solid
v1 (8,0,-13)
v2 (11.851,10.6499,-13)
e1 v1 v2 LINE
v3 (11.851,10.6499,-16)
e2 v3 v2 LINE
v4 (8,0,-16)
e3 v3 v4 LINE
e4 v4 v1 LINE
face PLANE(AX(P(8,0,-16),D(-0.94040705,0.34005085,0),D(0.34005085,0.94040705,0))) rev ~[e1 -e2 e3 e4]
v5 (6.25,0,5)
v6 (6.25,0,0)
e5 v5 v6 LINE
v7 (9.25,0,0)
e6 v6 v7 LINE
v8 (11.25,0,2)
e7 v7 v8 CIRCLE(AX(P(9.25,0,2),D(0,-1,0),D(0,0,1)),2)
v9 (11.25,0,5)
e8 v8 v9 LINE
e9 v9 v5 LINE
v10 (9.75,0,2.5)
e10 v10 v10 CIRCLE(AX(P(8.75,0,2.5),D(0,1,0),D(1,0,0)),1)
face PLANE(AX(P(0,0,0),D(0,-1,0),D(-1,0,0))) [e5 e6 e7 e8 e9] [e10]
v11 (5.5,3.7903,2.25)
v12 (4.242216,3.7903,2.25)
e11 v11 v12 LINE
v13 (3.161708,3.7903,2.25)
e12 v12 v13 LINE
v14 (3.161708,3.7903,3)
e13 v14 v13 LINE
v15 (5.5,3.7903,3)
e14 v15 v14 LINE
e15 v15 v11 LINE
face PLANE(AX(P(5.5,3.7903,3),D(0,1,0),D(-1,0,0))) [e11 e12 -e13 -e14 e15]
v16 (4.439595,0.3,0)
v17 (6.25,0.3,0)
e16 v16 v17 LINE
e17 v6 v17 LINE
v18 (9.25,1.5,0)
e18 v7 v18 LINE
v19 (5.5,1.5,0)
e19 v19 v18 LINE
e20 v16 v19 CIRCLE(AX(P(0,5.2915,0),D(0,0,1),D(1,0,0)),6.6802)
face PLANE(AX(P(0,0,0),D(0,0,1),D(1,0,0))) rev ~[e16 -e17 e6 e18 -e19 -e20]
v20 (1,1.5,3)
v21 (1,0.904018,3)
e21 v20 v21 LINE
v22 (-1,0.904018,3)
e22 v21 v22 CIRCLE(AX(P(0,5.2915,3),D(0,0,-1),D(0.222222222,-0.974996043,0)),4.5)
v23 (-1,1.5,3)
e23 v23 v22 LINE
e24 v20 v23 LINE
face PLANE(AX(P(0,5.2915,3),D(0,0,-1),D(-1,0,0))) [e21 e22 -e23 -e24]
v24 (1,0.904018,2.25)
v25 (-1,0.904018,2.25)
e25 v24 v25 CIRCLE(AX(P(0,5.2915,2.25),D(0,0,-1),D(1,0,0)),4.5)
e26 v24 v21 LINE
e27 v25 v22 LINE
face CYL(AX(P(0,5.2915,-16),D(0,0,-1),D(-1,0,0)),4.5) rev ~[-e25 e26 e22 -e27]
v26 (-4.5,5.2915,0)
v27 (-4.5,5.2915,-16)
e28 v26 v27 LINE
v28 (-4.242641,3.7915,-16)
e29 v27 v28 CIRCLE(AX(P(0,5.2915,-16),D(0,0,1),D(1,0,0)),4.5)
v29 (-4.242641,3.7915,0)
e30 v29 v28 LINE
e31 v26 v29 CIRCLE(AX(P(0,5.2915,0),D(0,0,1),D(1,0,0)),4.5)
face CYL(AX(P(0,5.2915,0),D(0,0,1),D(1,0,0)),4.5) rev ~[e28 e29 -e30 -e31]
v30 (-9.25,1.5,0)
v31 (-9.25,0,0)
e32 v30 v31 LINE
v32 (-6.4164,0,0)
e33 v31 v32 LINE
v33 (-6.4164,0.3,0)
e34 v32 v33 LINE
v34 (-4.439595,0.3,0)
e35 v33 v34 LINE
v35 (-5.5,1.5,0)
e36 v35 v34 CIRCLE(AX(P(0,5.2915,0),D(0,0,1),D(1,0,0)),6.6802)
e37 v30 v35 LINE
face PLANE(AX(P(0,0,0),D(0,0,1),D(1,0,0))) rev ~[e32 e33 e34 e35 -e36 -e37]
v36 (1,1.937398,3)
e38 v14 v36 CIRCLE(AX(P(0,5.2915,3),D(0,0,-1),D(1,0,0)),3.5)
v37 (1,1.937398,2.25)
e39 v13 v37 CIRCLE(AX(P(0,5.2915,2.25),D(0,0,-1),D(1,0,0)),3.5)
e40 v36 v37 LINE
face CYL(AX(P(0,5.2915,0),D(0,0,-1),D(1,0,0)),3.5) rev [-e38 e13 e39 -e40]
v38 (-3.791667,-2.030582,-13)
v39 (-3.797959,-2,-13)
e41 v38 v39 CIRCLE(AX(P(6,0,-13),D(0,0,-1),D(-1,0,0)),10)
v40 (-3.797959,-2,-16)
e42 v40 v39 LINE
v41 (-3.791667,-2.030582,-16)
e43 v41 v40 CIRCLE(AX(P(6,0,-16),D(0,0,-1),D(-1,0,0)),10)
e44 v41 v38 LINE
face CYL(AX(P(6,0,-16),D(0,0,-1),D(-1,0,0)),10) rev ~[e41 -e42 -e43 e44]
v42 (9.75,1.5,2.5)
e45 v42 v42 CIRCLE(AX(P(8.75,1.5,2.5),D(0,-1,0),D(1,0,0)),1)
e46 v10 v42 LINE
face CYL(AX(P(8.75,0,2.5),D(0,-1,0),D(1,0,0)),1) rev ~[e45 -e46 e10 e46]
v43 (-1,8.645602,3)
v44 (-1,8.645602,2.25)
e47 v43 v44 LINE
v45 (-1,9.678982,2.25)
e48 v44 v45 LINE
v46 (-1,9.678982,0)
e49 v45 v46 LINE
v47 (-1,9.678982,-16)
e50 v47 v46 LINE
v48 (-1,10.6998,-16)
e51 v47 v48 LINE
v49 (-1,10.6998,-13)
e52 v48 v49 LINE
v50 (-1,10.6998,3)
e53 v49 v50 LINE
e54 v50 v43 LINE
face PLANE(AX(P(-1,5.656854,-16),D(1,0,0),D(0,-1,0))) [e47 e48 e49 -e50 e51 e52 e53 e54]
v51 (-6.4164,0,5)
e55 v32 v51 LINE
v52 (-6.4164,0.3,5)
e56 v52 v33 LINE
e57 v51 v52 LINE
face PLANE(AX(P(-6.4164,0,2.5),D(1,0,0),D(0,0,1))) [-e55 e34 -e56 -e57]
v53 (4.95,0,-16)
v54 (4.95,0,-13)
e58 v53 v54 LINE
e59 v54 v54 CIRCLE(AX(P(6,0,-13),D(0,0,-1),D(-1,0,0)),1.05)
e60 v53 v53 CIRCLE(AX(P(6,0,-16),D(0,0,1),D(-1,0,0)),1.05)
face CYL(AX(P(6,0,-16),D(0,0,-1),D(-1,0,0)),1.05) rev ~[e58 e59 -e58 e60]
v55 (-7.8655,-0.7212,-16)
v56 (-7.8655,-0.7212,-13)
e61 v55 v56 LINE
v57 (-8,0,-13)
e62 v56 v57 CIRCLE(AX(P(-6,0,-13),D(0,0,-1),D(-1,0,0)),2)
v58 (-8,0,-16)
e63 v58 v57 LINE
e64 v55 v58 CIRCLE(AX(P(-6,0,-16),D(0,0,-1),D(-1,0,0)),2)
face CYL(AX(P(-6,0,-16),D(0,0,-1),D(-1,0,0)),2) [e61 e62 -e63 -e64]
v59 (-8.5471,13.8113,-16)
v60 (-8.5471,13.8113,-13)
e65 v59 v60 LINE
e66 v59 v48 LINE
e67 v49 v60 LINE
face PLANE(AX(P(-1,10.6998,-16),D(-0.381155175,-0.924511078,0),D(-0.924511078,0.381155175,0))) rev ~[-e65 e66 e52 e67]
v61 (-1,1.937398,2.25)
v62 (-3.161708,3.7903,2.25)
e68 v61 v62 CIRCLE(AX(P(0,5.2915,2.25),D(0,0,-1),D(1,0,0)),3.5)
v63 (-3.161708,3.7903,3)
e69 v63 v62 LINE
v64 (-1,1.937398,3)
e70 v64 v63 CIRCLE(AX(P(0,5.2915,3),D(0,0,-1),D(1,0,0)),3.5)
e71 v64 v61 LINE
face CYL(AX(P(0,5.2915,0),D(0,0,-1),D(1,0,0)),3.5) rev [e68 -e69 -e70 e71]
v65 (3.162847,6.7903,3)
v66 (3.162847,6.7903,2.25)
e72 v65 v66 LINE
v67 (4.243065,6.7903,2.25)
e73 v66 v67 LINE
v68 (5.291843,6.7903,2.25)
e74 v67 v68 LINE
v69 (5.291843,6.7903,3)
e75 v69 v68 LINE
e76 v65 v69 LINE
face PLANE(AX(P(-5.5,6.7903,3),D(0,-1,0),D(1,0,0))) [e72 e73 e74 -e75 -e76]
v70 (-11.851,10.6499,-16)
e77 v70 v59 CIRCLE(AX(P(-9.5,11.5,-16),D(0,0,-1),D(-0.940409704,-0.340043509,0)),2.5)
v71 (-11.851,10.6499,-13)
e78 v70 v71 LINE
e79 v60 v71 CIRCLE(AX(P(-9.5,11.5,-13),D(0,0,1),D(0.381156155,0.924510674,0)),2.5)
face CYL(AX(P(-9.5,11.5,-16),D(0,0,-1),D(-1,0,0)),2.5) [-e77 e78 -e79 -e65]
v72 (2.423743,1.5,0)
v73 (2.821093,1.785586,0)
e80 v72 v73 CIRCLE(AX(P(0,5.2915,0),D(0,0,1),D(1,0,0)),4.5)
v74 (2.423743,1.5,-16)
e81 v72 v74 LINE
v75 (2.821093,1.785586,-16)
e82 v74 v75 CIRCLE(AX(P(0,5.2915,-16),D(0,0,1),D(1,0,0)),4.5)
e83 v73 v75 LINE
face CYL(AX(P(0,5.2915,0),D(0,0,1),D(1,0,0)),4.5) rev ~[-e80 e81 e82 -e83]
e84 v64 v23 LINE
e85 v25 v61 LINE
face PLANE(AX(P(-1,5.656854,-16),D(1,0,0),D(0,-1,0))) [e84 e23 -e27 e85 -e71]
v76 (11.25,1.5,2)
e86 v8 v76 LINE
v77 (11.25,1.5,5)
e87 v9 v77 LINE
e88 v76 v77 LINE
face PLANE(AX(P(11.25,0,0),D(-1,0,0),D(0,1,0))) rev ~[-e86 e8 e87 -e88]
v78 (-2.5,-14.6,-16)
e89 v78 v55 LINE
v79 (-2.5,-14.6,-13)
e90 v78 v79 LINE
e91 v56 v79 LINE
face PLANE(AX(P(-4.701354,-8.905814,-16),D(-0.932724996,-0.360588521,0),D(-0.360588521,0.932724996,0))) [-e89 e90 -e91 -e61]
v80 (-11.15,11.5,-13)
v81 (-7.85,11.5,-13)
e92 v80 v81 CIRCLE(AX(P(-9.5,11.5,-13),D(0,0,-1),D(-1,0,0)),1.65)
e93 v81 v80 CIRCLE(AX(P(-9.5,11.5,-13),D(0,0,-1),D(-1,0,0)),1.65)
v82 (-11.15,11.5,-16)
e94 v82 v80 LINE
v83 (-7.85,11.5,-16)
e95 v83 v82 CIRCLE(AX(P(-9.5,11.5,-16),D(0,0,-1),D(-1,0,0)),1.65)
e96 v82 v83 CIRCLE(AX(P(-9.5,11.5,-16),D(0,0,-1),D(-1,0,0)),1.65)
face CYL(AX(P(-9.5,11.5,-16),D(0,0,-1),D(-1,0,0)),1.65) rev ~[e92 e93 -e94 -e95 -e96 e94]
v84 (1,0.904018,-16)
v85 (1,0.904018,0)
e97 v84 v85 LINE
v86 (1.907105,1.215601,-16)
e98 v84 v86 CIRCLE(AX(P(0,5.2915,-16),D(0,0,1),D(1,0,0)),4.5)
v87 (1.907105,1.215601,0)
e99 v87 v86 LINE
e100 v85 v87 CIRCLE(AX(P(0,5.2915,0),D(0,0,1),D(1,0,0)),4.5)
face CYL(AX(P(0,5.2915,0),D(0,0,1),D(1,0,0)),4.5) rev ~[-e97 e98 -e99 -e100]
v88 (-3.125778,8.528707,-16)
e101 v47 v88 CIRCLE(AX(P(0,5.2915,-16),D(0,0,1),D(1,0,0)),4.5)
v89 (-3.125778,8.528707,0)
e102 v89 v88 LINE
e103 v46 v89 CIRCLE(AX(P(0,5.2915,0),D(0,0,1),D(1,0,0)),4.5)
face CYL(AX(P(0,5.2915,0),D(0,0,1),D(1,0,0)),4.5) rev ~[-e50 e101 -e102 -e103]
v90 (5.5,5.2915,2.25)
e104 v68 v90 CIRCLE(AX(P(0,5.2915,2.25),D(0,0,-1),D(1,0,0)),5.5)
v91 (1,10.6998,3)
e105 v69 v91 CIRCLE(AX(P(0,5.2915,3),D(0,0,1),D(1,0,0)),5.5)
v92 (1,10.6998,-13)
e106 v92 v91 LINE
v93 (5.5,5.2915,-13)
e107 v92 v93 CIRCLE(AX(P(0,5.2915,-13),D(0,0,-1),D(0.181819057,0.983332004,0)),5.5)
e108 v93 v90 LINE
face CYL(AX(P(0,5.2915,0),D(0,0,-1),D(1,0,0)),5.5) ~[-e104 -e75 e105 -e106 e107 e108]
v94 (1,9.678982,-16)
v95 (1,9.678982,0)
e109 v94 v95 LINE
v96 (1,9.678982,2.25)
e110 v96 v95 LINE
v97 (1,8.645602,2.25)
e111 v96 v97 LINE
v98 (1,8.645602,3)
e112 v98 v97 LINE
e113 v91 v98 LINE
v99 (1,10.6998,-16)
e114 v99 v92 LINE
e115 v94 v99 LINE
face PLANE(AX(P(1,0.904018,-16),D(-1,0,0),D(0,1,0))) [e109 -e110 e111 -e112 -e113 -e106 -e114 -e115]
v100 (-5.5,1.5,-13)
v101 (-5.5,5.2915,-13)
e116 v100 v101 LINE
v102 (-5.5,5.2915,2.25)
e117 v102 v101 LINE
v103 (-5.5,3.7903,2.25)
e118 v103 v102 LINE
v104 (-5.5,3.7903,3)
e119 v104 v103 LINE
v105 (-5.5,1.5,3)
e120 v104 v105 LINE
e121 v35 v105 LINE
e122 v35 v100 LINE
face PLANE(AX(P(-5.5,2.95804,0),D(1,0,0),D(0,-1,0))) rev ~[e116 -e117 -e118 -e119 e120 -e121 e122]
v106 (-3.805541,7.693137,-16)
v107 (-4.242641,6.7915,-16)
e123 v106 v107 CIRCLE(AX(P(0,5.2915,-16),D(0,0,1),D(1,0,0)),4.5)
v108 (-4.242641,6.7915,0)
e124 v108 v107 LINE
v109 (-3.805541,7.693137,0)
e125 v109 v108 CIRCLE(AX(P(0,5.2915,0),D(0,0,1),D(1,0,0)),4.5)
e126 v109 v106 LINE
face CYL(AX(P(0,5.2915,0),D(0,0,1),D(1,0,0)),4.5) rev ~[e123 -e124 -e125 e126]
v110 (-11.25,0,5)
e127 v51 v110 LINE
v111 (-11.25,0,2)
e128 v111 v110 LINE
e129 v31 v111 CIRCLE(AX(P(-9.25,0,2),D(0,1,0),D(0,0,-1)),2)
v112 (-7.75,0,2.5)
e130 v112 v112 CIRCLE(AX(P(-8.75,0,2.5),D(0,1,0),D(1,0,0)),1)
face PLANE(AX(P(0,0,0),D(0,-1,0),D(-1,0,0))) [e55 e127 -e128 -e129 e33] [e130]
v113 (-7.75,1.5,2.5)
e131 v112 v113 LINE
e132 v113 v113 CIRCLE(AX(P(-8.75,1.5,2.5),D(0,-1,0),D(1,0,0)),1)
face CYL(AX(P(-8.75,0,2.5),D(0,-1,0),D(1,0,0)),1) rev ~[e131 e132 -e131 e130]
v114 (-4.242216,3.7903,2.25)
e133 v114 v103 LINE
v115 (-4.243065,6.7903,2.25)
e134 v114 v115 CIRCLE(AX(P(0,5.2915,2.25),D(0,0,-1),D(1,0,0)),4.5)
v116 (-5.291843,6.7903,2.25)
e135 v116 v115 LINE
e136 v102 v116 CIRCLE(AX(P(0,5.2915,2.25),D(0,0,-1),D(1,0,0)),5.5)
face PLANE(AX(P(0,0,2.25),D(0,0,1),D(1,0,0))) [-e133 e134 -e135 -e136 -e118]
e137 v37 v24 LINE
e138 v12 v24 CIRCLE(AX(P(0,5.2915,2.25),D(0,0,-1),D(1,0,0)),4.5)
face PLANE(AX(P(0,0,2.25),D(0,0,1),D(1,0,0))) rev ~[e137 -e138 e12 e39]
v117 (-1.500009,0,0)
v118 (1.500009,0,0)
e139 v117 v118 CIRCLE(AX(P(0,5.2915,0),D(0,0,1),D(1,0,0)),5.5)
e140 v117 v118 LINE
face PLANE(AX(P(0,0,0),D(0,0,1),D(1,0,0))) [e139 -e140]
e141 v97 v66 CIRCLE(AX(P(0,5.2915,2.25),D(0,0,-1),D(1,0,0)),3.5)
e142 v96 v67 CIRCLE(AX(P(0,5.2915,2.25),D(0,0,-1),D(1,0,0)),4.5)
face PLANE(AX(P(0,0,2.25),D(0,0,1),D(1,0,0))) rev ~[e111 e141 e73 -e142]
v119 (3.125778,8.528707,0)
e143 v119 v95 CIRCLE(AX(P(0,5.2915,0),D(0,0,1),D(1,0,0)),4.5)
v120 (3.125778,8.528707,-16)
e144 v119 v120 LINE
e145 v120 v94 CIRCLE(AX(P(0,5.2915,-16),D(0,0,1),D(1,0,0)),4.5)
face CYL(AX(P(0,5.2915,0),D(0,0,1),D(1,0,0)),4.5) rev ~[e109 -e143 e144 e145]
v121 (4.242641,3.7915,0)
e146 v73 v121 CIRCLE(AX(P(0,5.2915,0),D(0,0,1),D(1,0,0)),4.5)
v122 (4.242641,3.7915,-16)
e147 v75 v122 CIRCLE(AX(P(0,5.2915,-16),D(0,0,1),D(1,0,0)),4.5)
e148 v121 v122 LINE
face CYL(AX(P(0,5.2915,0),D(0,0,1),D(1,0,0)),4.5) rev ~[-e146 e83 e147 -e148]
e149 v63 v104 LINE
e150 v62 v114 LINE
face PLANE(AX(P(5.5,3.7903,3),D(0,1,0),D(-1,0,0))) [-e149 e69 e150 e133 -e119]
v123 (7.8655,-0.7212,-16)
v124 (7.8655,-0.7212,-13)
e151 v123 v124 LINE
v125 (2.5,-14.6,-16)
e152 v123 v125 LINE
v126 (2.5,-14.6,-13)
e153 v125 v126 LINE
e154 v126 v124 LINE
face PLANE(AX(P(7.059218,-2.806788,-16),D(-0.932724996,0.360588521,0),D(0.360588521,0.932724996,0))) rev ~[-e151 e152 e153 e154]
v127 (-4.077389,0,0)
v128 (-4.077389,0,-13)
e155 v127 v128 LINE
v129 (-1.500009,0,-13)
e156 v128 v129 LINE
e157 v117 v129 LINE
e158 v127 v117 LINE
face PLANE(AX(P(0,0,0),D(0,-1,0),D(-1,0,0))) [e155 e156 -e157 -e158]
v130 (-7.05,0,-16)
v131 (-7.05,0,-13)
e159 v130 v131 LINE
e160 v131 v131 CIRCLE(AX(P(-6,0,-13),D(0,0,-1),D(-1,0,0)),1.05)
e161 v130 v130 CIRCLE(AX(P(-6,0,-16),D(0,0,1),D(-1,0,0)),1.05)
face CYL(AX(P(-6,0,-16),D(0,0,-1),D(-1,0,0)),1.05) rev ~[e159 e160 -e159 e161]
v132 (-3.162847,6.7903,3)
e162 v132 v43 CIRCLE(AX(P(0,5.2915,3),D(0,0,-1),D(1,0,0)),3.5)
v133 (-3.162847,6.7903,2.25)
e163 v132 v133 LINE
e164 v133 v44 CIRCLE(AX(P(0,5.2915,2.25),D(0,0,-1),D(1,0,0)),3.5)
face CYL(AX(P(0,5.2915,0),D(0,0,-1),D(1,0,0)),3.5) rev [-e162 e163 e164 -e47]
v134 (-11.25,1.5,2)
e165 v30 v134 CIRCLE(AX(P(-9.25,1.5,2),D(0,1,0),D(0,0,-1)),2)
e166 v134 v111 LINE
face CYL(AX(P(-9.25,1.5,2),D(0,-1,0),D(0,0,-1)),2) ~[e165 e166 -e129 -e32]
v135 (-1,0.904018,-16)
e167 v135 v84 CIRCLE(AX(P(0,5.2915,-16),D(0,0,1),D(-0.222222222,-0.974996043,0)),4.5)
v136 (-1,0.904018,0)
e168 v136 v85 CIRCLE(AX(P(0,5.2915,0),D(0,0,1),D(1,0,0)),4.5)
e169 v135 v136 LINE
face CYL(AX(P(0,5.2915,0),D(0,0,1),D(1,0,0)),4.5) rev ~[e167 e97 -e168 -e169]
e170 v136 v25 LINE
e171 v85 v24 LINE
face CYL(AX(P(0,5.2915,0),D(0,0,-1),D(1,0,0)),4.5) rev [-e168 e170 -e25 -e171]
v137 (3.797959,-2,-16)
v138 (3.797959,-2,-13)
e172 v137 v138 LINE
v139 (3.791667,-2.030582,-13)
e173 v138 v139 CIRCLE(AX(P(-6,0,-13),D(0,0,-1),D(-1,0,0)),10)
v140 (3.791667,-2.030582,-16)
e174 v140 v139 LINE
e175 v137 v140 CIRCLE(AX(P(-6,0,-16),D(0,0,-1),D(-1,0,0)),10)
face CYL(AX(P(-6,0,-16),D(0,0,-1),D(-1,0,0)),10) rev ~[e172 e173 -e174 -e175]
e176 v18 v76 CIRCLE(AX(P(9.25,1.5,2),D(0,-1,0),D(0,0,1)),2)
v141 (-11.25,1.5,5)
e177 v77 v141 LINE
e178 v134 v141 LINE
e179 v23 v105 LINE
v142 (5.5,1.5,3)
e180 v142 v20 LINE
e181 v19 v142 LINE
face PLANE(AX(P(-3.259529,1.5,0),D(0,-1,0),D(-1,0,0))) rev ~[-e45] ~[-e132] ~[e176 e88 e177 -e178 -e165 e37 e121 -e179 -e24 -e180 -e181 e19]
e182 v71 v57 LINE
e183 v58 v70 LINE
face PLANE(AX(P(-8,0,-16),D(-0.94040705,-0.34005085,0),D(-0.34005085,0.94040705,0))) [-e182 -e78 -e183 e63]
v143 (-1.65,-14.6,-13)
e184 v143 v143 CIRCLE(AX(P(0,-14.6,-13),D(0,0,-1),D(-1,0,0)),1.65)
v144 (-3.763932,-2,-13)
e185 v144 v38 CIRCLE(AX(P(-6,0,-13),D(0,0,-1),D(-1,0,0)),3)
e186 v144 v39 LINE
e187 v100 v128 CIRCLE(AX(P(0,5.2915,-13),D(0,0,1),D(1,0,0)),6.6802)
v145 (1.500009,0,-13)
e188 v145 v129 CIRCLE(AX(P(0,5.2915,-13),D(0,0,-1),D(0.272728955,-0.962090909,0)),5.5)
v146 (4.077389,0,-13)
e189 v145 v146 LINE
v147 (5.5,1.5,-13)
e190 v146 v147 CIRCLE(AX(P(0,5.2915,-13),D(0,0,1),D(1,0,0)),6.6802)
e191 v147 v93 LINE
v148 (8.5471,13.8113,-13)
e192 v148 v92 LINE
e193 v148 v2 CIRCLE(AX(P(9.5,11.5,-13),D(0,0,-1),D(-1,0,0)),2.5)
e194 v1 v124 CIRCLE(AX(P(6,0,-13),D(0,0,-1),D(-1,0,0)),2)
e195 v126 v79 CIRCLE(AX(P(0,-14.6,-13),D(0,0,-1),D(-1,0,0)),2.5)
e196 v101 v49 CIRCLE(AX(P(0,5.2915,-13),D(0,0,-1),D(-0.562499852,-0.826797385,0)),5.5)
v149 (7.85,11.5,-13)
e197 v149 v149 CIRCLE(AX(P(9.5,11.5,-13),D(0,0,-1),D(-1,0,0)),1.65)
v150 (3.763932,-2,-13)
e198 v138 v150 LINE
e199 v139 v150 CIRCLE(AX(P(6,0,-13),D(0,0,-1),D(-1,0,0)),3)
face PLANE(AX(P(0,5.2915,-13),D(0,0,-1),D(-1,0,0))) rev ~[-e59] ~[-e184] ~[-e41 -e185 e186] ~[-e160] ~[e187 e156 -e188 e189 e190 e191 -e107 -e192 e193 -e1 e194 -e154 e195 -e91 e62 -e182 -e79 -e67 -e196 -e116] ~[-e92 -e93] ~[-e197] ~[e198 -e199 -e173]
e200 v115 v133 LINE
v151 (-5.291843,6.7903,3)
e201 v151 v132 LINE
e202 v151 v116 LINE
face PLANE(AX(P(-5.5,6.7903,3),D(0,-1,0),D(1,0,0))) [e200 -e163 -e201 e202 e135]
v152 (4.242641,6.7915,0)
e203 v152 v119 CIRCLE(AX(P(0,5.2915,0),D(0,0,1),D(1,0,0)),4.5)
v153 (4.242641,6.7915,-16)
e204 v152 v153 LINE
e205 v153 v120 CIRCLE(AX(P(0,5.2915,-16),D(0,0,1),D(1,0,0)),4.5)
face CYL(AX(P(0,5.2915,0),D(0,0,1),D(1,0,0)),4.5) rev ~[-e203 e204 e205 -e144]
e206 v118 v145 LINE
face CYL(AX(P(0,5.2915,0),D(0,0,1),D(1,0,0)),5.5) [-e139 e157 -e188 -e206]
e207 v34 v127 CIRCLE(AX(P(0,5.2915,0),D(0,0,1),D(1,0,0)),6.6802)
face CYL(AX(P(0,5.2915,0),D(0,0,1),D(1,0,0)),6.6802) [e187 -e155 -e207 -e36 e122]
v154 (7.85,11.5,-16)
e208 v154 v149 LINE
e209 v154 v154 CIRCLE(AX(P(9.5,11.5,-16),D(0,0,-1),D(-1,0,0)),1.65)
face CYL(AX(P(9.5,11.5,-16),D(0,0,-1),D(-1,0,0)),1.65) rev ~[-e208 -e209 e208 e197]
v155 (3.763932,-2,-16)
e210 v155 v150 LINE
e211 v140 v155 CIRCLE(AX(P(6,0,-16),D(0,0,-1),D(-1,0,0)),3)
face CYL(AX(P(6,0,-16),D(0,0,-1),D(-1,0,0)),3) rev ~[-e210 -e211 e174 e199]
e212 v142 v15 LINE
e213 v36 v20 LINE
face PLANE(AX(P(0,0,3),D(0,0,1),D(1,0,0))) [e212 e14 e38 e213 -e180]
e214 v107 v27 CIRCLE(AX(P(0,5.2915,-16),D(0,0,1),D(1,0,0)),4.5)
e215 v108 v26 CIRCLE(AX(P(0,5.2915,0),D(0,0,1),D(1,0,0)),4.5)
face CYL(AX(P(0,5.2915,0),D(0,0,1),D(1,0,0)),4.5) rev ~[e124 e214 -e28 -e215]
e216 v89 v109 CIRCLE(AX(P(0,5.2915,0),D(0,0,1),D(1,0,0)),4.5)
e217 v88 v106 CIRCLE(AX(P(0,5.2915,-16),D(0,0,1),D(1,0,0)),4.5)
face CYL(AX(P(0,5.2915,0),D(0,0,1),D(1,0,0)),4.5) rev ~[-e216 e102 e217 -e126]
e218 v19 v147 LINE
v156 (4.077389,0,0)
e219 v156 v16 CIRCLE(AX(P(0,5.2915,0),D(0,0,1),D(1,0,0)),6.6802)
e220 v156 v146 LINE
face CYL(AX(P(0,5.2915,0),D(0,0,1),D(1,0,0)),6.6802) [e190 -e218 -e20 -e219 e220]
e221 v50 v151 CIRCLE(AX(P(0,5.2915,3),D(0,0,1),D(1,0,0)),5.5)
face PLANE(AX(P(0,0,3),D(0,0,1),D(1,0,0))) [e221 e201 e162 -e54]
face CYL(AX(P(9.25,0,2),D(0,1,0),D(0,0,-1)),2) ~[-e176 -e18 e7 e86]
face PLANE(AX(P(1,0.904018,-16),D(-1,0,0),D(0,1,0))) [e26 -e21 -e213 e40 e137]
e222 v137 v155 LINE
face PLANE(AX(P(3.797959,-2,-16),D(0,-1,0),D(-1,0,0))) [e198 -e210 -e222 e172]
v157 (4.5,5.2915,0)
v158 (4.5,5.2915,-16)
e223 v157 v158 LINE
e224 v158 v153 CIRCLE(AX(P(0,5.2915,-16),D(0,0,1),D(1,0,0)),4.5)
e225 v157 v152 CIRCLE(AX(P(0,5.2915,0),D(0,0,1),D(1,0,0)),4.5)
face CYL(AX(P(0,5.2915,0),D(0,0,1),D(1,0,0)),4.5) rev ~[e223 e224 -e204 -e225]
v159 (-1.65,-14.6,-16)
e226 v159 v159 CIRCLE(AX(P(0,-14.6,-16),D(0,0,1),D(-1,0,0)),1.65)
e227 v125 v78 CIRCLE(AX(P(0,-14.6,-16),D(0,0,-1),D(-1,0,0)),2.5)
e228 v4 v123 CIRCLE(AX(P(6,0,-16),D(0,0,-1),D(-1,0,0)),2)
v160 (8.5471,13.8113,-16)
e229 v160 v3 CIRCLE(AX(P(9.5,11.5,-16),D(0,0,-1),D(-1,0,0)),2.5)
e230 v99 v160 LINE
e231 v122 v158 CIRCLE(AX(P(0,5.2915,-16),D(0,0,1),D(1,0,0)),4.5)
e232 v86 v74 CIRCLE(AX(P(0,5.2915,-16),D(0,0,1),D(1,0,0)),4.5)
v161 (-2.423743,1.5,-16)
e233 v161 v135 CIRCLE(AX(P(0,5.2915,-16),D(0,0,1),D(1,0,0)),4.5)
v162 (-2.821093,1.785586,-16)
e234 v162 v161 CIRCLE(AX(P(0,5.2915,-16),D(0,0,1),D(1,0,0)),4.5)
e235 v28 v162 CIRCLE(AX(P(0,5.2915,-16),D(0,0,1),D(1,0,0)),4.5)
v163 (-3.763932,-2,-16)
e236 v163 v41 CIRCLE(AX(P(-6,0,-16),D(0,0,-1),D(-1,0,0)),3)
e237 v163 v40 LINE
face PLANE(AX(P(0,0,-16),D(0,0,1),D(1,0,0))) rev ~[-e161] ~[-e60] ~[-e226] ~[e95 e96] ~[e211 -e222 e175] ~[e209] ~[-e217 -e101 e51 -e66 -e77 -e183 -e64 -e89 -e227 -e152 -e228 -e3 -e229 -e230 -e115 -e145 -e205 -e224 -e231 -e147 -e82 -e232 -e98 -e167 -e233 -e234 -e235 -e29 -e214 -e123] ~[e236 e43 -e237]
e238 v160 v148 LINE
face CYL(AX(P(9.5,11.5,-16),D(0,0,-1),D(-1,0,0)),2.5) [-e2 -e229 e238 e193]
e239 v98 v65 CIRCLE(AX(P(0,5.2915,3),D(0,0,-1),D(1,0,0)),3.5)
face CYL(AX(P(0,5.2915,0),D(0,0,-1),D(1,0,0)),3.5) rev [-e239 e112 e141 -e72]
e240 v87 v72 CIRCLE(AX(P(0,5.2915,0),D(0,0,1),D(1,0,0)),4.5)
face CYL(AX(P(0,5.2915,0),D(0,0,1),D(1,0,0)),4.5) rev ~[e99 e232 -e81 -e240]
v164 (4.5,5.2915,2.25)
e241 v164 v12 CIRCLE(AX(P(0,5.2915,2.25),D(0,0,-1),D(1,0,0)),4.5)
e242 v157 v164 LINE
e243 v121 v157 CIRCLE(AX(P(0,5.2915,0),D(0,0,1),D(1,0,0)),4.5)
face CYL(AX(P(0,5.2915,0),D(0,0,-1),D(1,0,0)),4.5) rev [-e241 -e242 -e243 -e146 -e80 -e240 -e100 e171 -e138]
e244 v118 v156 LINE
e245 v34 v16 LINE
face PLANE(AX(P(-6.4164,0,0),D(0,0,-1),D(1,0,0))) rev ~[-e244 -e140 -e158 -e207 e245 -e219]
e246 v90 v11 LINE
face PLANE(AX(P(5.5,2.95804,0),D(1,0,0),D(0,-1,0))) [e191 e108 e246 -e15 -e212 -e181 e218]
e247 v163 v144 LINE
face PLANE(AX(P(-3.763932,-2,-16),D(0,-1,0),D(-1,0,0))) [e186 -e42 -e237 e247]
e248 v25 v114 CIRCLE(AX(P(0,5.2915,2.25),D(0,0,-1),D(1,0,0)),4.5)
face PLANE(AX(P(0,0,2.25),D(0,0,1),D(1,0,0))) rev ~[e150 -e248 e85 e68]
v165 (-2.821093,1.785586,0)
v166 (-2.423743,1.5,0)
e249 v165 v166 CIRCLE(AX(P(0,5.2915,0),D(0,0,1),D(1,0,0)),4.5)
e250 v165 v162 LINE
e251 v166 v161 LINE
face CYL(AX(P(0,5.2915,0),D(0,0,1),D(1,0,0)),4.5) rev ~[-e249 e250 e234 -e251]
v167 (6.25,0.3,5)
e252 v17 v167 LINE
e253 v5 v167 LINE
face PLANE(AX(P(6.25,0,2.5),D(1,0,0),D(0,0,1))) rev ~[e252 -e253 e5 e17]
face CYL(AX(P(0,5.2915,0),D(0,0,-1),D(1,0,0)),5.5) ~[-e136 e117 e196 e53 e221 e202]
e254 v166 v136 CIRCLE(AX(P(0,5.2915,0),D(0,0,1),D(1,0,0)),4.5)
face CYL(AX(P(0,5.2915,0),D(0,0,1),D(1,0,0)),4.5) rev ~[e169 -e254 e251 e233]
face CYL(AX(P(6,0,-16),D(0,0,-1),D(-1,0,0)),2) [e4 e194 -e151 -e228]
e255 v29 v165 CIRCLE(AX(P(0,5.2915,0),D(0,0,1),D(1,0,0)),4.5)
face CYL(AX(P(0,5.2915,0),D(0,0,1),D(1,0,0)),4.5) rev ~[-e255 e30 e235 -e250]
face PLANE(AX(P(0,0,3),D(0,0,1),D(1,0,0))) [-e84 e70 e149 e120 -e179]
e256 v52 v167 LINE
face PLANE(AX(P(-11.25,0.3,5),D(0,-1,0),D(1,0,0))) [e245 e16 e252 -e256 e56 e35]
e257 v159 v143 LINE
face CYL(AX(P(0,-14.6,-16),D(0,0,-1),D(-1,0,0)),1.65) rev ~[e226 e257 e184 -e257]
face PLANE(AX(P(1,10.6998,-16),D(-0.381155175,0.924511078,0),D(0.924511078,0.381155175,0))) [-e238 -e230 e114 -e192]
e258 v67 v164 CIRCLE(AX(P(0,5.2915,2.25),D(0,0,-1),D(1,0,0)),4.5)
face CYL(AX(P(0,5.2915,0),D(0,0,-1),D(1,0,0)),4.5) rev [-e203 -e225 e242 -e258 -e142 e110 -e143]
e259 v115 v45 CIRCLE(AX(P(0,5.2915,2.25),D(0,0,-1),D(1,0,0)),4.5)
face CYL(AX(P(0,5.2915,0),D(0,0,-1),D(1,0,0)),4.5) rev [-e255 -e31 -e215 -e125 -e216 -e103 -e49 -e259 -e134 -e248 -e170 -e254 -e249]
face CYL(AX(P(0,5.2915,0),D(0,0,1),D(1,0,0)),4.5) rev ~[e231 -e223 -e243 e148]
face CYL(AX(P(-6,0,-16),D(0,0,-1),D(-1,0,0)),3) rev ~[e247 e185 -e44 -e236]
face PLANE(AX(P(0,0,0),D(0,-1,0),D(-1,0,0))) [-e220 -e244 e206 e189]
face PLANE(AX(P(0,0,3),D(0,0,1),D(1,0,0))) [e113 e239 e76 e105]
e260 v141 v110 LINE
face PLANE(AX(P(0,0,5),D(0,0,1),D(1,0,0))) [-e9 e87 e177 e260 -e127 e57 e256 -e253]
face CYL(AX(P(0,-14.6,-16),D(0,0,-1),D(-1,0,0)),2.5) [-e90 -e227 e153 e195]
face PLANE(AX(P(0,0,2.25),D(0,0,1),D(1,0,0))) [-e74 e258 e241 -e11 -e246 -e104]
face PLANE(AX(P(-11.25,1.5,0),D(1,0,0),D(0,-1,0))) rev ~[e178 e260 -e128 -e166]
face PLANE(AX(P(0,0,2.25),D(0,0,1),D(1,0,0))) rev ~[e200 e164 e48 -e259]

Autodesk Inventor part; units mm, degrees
ref_plane "YZ Plane" through (0, 0, 0) normal (1, 0, 0) x (0, 1, 0)
ref_plane "XZ Plane" through (0, 0, 0) normal (0, 1, 0) x (-1, 0, 0)
ref_plane "XY Plane" through (0, 0, 0) normal (0, 0, 1) x (1, 0, 0)
sketch "スケッチ1" plane through (0, 0, 0) normal (0, 0, 1) x (1, 0, 0)
  circle A0 centre (0, 0) radius 16
  line L0 (0, 0) -> (-6, 0)
  line L1 (-6, 0) -> (6, 0)
  circle A1 centre (-6, 0) radius 9
  circle A2 centre (-6, 0) radius 3
  circle A3 centre (6, 0) radius 9
  circle A4 centre (6, 0) radius 3
  circle A5 centre (-6, 0) radius 8
  circle A6 centre (0, 5.2915) radius 5
  circle A7 centre (0, 5.2915) radius 4.5
  circle A8 centre (0, 5.2915) radius 5.5
  circle A9 centre (0, 5.2915) radius 3.5
  line L2 (0, 0) -> (-11.25, 0)
  line L3 (-11.25, 0) -> (11.25, 0)
  line L4 (-11.25, 0) -> (11.25, 0)
  line L5 (11.25, 0) -> (11.25, 1.5)
  line L6 (11.25, 1.5) -> (-11.25, 1.5)
  line L7 (-11.25, 1.5) -> (-11.25, 0)
  line L8 (0, 5.2915) -> (-5.5, 5.2915)
  line L9 (0, 5.2915) -> (5.5, 5.2915)
  line L10 (5.5, 3.7915) -> (-5.5, 3.7915)
  line L11 (-5.5, 3.7915) -> (-5.5, 6.7915)
  line L12 (-5.5, 6.7915) -> (5.5, 6.7915)
  line L13 (5.5, 6.7915) -> (5.5, 3.7915)
  line L14 (5.5, 3.7915) -> (-5.5, 6.7915) construction
  line L15 (-5.5, 3.7915) -> (5.5, 6.7915) construction
  line L16 (-5.5, 5.2915) -> (-5.5, 1.5)
  line L17 (5.5, 5.2915) -> (5.5, 1.5)
  line L18 (5.2915, 3.7915) -> (5.2915, 1.5)
  line L19 (-5.2915, 3.7915) -> (-5.2915, 1.5)
  circle A10 centre (0, 5.2915) radius 6.6802
  point P0 (-3.9843, 1.5)
  point P1 (3.9843, 1.5)
  point P2 (4.0774, 0)
  point P3 (1.5, 0)
  point P4 (-4.0774, 0)
  point P5 (-1.5, 0)
  dimension "d0" = 32
  dimension "d1" = 6
  dimension "d2" = 12
  dimension "d3" = 18
  dimension "d4" = 6
  dimension "d5" = 16
  dimension "d6" = 9
  dimension "d7" = 11
  dimension "d8" = 7
  dimension "d9" = 11.25
  dimension "d10" = 22.5
  dimension "d11" = 1.5
  dimension "d12" = 3
extrude "押し出し1" add sketch "スケッチ1" along normal blind 5 contours L0 A8 A3 A6 A5 L1 | L0 A3 A8 | A8 A5 L1 | L0 A10 L6 A8 A2 | A2 A8 A3 | A8 A2 L6 A6 A3 | A5 A8 A1 L1 | A5 A6 A1 A8 | L0 L2 A2 L6 A10 | A8 L6 A2 | A6 L6 A3 | A3 L6 A7 A5 A6 | A4 A8 L6 A10 L1 | A1 A8 A4 | A5 A7 L6 A1 A6 | A1 A6 L6 A4 A8 | L2 L7 L6 A2 | A10 L6 A4 L3 L1 | A4 L6 A8 | A7 L6 A5 | A5 L6 A7 | A1 L6 A6 | A4 L6 L5 L3 picked at (2.524, 0.7859) picked at (-3.6973, 1.4091) picked at (3.6973, 1.4091)
extrude "押し出し2" add sketch "スケッチ1" along normal blind 3 contours L0 A8 A3 A6 A5 L1 | A8 A2 L6 A6 A3 | A5 A6 A1 A8 | A8 L6 A2 | A6 L6 A3 | A3 L6 A7 A5 A6 | A5 A7 L6 A1 A6 | A1 A6 L6 A4 A8 | L16 A2 L19 L6 | L6 A8 A2 | A2 A6 L6 | L6 L19 A2 A8 | L6 A6 L10 A7 A3 | A3 A7 L6 | A4 L6 A8 | A7 L6 A5 | A5 L6 A7 | A1 L6 A6 | L16 L10 L19 A2 | A2 A8 L10 A6 | A2 L19 A8 | A7 L10 A9 A3 | A3 A9 A5 L6 A7 | L6 L18 A4 L17 | L6 A6 A4 | A4 A8 L6 | A8 A4 L18 L6 | A5 A9 A1 A7 L6 | A7 A1 L6 | A1 A7 L10 A6 L6 | L11 A8 L10 | L10 A8 L8 A6 | A6 L8 A7 L10 | A8 A1 A6 A5 | A5 A6 L12 A8 | A7 L8 A9 L10 | A4 L18 L10 L17 | A6 L10 A8 A4 | A8 L18 A4 | A1 A9 L10 A7 | A8 L12 A6 L8 | A6 L12 A7 L8 | A8 A3 A6 A1 | A6 A1 A7 A5 | A5 A7 L12 A6 | A7 L12 A9 L8 | L10 A8 L13 | L10 A7 L9 A6 | A6 L9 A8 L10 | L10 A9 L9 A7 | A6 A3 A7 A1 | A8 L12 A6 A3 | A7 A1 A9 A5 | A5 A9 L12 A7 | L9 A6 L12 A8 | L9 A7 L12 A6 | L9 A9 L12 A7 | A7 A3 A9 A1 | A6 L12 A7 A3 | L12 A9 A3 A7
extrude "押し出し3" cut sketch "スケッチ1" along normal blind 2.25 contours A7 L6 A5 | A5 L6 A7 | A7 L10 A9 A3 | A3 A9 A5 L6 A7 | A5 A9 A1 A7 L6 | A7 L8 A9 L10 | A1 A9 L10 A7 | A7 L12 A9 L8 | L10 A9 L9 A7 | A7 A1 A9 A5 | A5 A9 L12 A7 | L9 A9 L12 A7 | A7 A3 A9 A1 | L12 A9 A3 A7
sketch "スケッチ2" plane through (0, 0, 3) normal (0, 0, 1) x (1, 0, 0)
  line L0 (5.5, 3.7903) -> (-5.5, 3.7903)
  line L1 (-5.5, 3.7903) -> (-5.5, 6.7903)
  line L2 (-5.5, 6.7903) -> (5.5, 6.7903)
  line L3 (5.5, 6.7903) -> (5.5, 3.7903)
  line L4 (5.5, 3.7903) -> (-5.5, 6.7903) construction
  line L5 (-5.5, 3.7903) -> (5.5, 6.7903) construction
  point P0 (0, 0)
  point P1 (0, 5.2903)
  dimension "d19" = 11
  dimension "d20" = 3
extrude "押し出し4" cut sketch "スケッチ2" against normal blind 0.75
extrude "押し出し5" add sketch "スケッチ1" against normal blind 16 contours L1 A8 L0 | L0 A8 A3 A6 A5 L1 | L0 A3 A8 | A8 A5 L1 | L0 A10 L6 A8 A2 | A2 A8 A3 | A8 A2 L6 A6 A3 | A5 A8 A1 L1 | A5 A6 A1 A8 | A8 L6 A2 | A6 L6 A3 | A3 L6 A7 A5 A6 | A4 A8 L6 A10 L1 | A1 A8 A4 | A5 A7 L6 A1 A6 | A1 A6 L6 A4 A8 | L16 A2 L19 L6 | L6 A8 A2 | A2 A6 L6 | L6 L19 A2 A8 | L6 A6 L10 A7 A3 | A3 A7 L6 | A4 L6 A8 | A1 L6 A6 | L16 L10 L19 A2 | A2 A8 L10 A6 | A2 L19 A8 | L6 L18 A4 L17 | L6 A6 A4 | A4 A8 L6 | A8 A4 L18 L6 | A7 A1 L6 | A1 A7 L10 A6 L6 | L11 A8 L10 | L10 A8 L8 A6 | A6 L8 A7 L10 | A8 A1 A6 A5 | A5 A6 L12 A8 | A4 L18 L10 L17 | A6 L10 A8 A4 | A8 L18 A4 | A8 L12 A6 L8 | A6 L12 A7 L8 | A8 A3 A6 A1 | A6 A1 A7 A5 | A5 A7 L12 A6 | L10 A8 L13 | L10 A7 L9 A6 | A6 L9 A8 L10 | A6 A3 A7 A1 | A8 L12 A6 A3 | L9 A6 L12 A8 | L9 A7 L12 A6 | A6 L12 A7 A3
sketch "電池" plane through (0, 0, -16) normal (0, 0, -1) x (-1, 0, 0)
  line L0 (0, 0) -> (0, 8)
  circle A0 centre (0, 8) radius 8
  dimension "d34" = 8
sketch "スケッチ3" plane through (0, 5.2915, -16) normal (0, 0, -1) x (-1, 0, 0)
  line L0 (0, -5.2915) -> (-6, -5.2915)
  line L1 (11.25, -5.2915) -> (-11.25, -5.2915) projected
  line L2 (-6, -5.2915) -> (6, -5.2915)
  circle A0 centre (-6, -5.2915) radius 3
  circle A1 centre (-6, -5.2915) radius 9
  circle A2 centre (6, -5.2915) radius 3
  circle A3 centre (6, -5.2915) radius 9
  circle A4 centre (-6, -5.2915) radius 10
  circle A5 centre (6, -5.2915) radius 10
  line L3 (0, -5.2915) -> (11, -5.2915)
  line L4 (0, -5.2915) -> (0, 6.2085)
  line L5 (0, 6.2085) -> (9.5, 6.2085)
  line L6 (9.5, 6.2085) -> (-9.5, 6.2085)
  circle A6 centre (-9.5, 6.2085) radius 1.65
  circle A7 centre (9.5, 6.2085) radius 1.65
  circle A8 centre (-9.5, 6.2085) radius 2.5
  circle A9 centre (9.5, 6.2085) radius 2.5
  circle A10 centre (6, -5.2915) radius 1.05
  circle A11 centre (-6, -5.2915) radius 1.05
  line L7 (0, -5.2915) -> (0, -6.5915)
  line L8 (-5.5, -3.7915) -> (-5.5, -1.5012) projected
  line L9 (0, -6.5915) -> (11.25, -6.5915)
  line L10 (11.25, -6.5915) -> (11.25, -5.2915)
  line L11 (0, -6.5915) -> (-11.25, -6.5915)
  line L12 (-11.25, -6.5915) -> (-11.25, -5.2915)
  line L13 (0, -6.5915) -> (0, -14.5915)
  line L14 (0, -14.5915) -> (11.25, -14.5915)
  line L15 (11.25, -14.5915) -> (11.25, -15.8915)
  line L16 (11.25, -15.8915) -> (-11.25, -15.8915)
  line L17 (-11.25, -15.8915) -> (-11.25, -14.5915)
  line L18 (0, -14.5915) -> (-11.25, -14.5915)
  line L19 (0, -15.8915) -> (0, -19.8915)
  circle A12 centre (0, -19.8915) radius 1.65
  circle A13 centre (0, -19.8915) radius 2.5
  line L20 (-2.5, -19.8915) -> (2.5, -19.8915)
  circle A14 centre (0, 0) radius 5.5
  circle A15 centre (-6, -5.2915) radius 2
  circle A16 centre (6, -5.2915) radius 2
  line L21 (-9.5, 3.7085) -> (9.5, 3.7085)
  line L22 (-8, -5.2915) -> (-8, 3.7085)
  line L23 (8, -5.2915) -> (8, 3.7085)
  line L24 (-6, -7.2915) -> (6, -7.2915)
  line L25 (2.5, -19.8915) -> (2.5, -7.2915)
  line L26 (-2.5, -19.8915) -> (-2.5, -7.2915)
  line L27 (1, -5.5) -> (-1, -5.5)
  line L28 (-1, -5.5) -> (-1, 5.5)
  line L29 (-1, 5.5) -> (1, 5.5)
  line L30 (1, 5.5) -> (1, -5.5)
  line L31 (1, -5.5) -> (-1, 5.5) construction
  line L32 (-1, -5.5) -> (1, 5.5) construction
  circle A17 centre (0, 0) radius 4.5
  line L33 (-1, 5.4083) -> (-8.5471, 8.5198)
  line L34 (1, 5.4083) -> (8.5471, 8.5198)
  line L35 (-8, -5.2915) -> (-11.851, 5.3584)
  line L36 (8, -5.2915) -> (11.851, 5.3584)
  line L37 (-2.5, -19.8915) -> (-7.8655, -6.0127)
  line L38 (2.5, -19.8915) -> (7.8655, -6.0127)
  point P0 (3.7639, -7.2915)
  point P1 (3.798, -7.2915)
  point P2 (3.7917, -7.3221)
  point P3 (-3.7639, -7.2915)
  point P4 (-3.7917, -7.3221)
  point P5 (-3.798, -7.2915)
  point P6 (3, -5.2915)
  point P7 (1.5, -5.2915)
  point P8 (-1.5, -5.2915)
  point P9 (-4, -5.2915)
  point P10 (-3.8997, -3.8785)
  point P11 (3.0937, -4.5474)
  point P12 (-1, -4.3875)
  point P13 (1, -4.3875)
  point P14 (1, 5.4083)
  dimension "d25" = 6
  dimension "d26" = 12
  dimension "d27" = 6
  dimension "d28" = 18
  dimension "d35" = 20
  dimension "d36" = 20
  dimension "d37" = 11
  dimension "d38" = 11.5
  dimension "d39" = 9.5
  dimension "d40" = 19
  dimension "d41" = 3.3
  dimension "d42" = 3.3
  dimension "d43" = 5
  dimension "d44" = 5
  dimension "d45" = 2.1
  dimension "d46" = 2.1
  dimension "d47" = 1.3
  dimension "d48" = 8
  dimension "d49" = 1.3
  dimension "d50" = 4
  dimension "d51" = 3.3
  dimension "d52" = 5
  dimension "d53" = 11
  dimension "d54" = 4
  dimension "d55" = 4
  dimension "d56" = 2
  dimension "d57" = 11
  dimension "d58" = 9
sketch "スケッチ4" plane through (-11.25, 0, 5) normal (0, -1, 0) x (1, 0, 0)
  line L0 (0, 0) -> (22.5, 0) projected
  line L1 (0, 0) -> (2.5, 0)
  line L2 (2.5, 0) -> (2.5, -2.5)
  line L3 (2.5, -2.5) -> (20, -2.5)
  circle A0 centre (2.5, -2.5) radius 1
  circle A1 centre (20, -2.5) radius 1
  line L4 (0.1664, -5) -> (4.8336, -5)
  line L5 (4.8336, -5) -> (4.8336, 0)
  line L6 (4.8336, 0) -> (0.1664, 0)
  line L7 (0.1664, 0) -> (0.1664, -5)
  line L8 (0.1664, -5) -> (4.8336, 0) construction
  line L9 (4.8336, -5) -> (0.1664, 0) construction
  line L10 (22.5, -5) -> (17.5, -5)
  line L11 (17.5, -5) -> (17.5, 0)
  line L12 (17.5, 0) -> (22.5, 0)
  line L13 (22.5, 0) -> (22.5, -5)
  line L14 (22.5, -5) -> (17.5, 0) construction
  line L15 (17.5, -5) -> (22.5, 0) construction
  line L16 (4.8336, -5) -> (17.5, -5)
  point P0 (11.25, -5)
  dimension "d29" = 2.5
  dimension "d30" = 2.5
  dimension "d31" = 17.5
  dimension "d32" = 2
  dimension "d33" = 2
  dimension "d63" = 5
  dimension "d64" = 5
extrude "押し出し6" add sketch "スケッチ3" against normal blind 3 contours A0 L11 A5 L0 | A3 L11 A0 | L0 A14 L28 L27 L7 L11 A3 | A15 L11 L1 A11 L0 | A15 L8 A0 A14 A5 | L0 A11 L1 A15 | A5 L11 A15 | L11 A3 L24 A0 | A0 L24 A5 L11 | L11 L13 L24 A3 | A5 L24 A15 L11 | A15 L22 A0 L8 | A15 L11 | A14 L27 L28 | L24 A3 L26 A5 A0 | L24 L26 A3 | L7 L27 L30 A14 L1 A1 L9 | L9 A1 L24 L13 | A0 L22 A1 A14 | A5 A0 L37 L11 A15 L24 | L35 A0 L22 | L11 L37 A15 | A14 L30 L27 | A5 L26 A1 L37 A0 | L26 L24 L13 A3 | A3 A1 A5 L26 | L9 A2 L24 A1 | A1 A2 L9 | L24 L25 A1 L13 | A1 L21 A14 | A0 L35 A1 L22 | A5 A1 L26 | L13 A5 A1 | A1 L25 A4 A3 | A3 A4 L13 | L24 A2 A4 L25 A1 | A1 L25 L24 | A2 A14 A4 L1 | L1 A4 L9 A2 | L9 A4 L24 A2 | A1 L22 L21 | L21 A8 A4 A14 | A1 L35 A4 A8 L21 L22 | A1 L26 L18 L37 | A5 A4 L18 L26 A1 | A4 L25 A3 | A3 L25 L14 A5 A4 | L13 L18 A4 | A5 L14 L13 | A16 L1 A10 | A16 L9 A4 | A4 A14 A2 L23 A16 | L1 A10 A16 L9 | L9 A16 L24 A4 | A4 A8 L6 L33 A14 | L35 A8 A4 | L18 L26 A4 L37 | L18 A4 L26 | A4 A2 L38 A3 L25 | A3 L38 L14 L25 | L18 L14 A5 L25 L16 L26 A4 | L14 L25 A5 | A4 L24 A16 L9 L38 A2 | L23 A2 L36 | L9 A16 | A8 A4 | A4 A8 | A4 L26 L16 L37 | L14 L38 A5 L25 | A5 L38 L16 L25 | A14 A3 L23 A2 | L38 L9 A16 | L23 A3 L36 A2 | A8 L33 L6 | L16 L26 L37 | L16 L19 A13 L26 | A14 L21 A3 | L25 A13 L19 L16 | L16 L38 L25 | L23 L21 A9 A5 L36 A3 | A3 L21 L23 | L34 L5 A9 A5 A14 | L20 A12 A13 | A13 L19 A12 L20 | L21 A14 A5 A9 | L20 A12 L19 A13 | A5 A9 L36 | L34 A9 L5 | A9 A5 | A5 A9
extrude "押し出し7" cut sketch "スケッチ3" against normal blind 19 contours L28 A3 L4 A17 | L28 A5 A1 A3 | L4 A1 L30 A17 | L28 A1 A5 | A3 A4 L30 A1 | L4 A4 A3 | A1 A5 L4 | A1 L28 A4 A5 | A4 A5 L30 A3 | A3 L30 A4 | L4 L21 L30 A5 | A4 L28 L21 L4 | L21 L28 A17 L4 | L4 A17 L30 L21 | A14 L4 A17 L28 | L4 A14 L30 A17
extrude "押し出し8" cut sketch "スケッチ4" against normal blind 0.3 contours L0 L11 L3 L5 | L5 L3 L11 L16
extrude "押し出し9" cut sketch "スケッチ4" against normal blind 1.5 contours A0 L3 L2 | L2 L3 A0 | A1
fillet "フィレット1" radius 2 2 edges at (-11.25, 0.75, 0) (11.25, 0.75, 0)
properties part number "ikafly2"
